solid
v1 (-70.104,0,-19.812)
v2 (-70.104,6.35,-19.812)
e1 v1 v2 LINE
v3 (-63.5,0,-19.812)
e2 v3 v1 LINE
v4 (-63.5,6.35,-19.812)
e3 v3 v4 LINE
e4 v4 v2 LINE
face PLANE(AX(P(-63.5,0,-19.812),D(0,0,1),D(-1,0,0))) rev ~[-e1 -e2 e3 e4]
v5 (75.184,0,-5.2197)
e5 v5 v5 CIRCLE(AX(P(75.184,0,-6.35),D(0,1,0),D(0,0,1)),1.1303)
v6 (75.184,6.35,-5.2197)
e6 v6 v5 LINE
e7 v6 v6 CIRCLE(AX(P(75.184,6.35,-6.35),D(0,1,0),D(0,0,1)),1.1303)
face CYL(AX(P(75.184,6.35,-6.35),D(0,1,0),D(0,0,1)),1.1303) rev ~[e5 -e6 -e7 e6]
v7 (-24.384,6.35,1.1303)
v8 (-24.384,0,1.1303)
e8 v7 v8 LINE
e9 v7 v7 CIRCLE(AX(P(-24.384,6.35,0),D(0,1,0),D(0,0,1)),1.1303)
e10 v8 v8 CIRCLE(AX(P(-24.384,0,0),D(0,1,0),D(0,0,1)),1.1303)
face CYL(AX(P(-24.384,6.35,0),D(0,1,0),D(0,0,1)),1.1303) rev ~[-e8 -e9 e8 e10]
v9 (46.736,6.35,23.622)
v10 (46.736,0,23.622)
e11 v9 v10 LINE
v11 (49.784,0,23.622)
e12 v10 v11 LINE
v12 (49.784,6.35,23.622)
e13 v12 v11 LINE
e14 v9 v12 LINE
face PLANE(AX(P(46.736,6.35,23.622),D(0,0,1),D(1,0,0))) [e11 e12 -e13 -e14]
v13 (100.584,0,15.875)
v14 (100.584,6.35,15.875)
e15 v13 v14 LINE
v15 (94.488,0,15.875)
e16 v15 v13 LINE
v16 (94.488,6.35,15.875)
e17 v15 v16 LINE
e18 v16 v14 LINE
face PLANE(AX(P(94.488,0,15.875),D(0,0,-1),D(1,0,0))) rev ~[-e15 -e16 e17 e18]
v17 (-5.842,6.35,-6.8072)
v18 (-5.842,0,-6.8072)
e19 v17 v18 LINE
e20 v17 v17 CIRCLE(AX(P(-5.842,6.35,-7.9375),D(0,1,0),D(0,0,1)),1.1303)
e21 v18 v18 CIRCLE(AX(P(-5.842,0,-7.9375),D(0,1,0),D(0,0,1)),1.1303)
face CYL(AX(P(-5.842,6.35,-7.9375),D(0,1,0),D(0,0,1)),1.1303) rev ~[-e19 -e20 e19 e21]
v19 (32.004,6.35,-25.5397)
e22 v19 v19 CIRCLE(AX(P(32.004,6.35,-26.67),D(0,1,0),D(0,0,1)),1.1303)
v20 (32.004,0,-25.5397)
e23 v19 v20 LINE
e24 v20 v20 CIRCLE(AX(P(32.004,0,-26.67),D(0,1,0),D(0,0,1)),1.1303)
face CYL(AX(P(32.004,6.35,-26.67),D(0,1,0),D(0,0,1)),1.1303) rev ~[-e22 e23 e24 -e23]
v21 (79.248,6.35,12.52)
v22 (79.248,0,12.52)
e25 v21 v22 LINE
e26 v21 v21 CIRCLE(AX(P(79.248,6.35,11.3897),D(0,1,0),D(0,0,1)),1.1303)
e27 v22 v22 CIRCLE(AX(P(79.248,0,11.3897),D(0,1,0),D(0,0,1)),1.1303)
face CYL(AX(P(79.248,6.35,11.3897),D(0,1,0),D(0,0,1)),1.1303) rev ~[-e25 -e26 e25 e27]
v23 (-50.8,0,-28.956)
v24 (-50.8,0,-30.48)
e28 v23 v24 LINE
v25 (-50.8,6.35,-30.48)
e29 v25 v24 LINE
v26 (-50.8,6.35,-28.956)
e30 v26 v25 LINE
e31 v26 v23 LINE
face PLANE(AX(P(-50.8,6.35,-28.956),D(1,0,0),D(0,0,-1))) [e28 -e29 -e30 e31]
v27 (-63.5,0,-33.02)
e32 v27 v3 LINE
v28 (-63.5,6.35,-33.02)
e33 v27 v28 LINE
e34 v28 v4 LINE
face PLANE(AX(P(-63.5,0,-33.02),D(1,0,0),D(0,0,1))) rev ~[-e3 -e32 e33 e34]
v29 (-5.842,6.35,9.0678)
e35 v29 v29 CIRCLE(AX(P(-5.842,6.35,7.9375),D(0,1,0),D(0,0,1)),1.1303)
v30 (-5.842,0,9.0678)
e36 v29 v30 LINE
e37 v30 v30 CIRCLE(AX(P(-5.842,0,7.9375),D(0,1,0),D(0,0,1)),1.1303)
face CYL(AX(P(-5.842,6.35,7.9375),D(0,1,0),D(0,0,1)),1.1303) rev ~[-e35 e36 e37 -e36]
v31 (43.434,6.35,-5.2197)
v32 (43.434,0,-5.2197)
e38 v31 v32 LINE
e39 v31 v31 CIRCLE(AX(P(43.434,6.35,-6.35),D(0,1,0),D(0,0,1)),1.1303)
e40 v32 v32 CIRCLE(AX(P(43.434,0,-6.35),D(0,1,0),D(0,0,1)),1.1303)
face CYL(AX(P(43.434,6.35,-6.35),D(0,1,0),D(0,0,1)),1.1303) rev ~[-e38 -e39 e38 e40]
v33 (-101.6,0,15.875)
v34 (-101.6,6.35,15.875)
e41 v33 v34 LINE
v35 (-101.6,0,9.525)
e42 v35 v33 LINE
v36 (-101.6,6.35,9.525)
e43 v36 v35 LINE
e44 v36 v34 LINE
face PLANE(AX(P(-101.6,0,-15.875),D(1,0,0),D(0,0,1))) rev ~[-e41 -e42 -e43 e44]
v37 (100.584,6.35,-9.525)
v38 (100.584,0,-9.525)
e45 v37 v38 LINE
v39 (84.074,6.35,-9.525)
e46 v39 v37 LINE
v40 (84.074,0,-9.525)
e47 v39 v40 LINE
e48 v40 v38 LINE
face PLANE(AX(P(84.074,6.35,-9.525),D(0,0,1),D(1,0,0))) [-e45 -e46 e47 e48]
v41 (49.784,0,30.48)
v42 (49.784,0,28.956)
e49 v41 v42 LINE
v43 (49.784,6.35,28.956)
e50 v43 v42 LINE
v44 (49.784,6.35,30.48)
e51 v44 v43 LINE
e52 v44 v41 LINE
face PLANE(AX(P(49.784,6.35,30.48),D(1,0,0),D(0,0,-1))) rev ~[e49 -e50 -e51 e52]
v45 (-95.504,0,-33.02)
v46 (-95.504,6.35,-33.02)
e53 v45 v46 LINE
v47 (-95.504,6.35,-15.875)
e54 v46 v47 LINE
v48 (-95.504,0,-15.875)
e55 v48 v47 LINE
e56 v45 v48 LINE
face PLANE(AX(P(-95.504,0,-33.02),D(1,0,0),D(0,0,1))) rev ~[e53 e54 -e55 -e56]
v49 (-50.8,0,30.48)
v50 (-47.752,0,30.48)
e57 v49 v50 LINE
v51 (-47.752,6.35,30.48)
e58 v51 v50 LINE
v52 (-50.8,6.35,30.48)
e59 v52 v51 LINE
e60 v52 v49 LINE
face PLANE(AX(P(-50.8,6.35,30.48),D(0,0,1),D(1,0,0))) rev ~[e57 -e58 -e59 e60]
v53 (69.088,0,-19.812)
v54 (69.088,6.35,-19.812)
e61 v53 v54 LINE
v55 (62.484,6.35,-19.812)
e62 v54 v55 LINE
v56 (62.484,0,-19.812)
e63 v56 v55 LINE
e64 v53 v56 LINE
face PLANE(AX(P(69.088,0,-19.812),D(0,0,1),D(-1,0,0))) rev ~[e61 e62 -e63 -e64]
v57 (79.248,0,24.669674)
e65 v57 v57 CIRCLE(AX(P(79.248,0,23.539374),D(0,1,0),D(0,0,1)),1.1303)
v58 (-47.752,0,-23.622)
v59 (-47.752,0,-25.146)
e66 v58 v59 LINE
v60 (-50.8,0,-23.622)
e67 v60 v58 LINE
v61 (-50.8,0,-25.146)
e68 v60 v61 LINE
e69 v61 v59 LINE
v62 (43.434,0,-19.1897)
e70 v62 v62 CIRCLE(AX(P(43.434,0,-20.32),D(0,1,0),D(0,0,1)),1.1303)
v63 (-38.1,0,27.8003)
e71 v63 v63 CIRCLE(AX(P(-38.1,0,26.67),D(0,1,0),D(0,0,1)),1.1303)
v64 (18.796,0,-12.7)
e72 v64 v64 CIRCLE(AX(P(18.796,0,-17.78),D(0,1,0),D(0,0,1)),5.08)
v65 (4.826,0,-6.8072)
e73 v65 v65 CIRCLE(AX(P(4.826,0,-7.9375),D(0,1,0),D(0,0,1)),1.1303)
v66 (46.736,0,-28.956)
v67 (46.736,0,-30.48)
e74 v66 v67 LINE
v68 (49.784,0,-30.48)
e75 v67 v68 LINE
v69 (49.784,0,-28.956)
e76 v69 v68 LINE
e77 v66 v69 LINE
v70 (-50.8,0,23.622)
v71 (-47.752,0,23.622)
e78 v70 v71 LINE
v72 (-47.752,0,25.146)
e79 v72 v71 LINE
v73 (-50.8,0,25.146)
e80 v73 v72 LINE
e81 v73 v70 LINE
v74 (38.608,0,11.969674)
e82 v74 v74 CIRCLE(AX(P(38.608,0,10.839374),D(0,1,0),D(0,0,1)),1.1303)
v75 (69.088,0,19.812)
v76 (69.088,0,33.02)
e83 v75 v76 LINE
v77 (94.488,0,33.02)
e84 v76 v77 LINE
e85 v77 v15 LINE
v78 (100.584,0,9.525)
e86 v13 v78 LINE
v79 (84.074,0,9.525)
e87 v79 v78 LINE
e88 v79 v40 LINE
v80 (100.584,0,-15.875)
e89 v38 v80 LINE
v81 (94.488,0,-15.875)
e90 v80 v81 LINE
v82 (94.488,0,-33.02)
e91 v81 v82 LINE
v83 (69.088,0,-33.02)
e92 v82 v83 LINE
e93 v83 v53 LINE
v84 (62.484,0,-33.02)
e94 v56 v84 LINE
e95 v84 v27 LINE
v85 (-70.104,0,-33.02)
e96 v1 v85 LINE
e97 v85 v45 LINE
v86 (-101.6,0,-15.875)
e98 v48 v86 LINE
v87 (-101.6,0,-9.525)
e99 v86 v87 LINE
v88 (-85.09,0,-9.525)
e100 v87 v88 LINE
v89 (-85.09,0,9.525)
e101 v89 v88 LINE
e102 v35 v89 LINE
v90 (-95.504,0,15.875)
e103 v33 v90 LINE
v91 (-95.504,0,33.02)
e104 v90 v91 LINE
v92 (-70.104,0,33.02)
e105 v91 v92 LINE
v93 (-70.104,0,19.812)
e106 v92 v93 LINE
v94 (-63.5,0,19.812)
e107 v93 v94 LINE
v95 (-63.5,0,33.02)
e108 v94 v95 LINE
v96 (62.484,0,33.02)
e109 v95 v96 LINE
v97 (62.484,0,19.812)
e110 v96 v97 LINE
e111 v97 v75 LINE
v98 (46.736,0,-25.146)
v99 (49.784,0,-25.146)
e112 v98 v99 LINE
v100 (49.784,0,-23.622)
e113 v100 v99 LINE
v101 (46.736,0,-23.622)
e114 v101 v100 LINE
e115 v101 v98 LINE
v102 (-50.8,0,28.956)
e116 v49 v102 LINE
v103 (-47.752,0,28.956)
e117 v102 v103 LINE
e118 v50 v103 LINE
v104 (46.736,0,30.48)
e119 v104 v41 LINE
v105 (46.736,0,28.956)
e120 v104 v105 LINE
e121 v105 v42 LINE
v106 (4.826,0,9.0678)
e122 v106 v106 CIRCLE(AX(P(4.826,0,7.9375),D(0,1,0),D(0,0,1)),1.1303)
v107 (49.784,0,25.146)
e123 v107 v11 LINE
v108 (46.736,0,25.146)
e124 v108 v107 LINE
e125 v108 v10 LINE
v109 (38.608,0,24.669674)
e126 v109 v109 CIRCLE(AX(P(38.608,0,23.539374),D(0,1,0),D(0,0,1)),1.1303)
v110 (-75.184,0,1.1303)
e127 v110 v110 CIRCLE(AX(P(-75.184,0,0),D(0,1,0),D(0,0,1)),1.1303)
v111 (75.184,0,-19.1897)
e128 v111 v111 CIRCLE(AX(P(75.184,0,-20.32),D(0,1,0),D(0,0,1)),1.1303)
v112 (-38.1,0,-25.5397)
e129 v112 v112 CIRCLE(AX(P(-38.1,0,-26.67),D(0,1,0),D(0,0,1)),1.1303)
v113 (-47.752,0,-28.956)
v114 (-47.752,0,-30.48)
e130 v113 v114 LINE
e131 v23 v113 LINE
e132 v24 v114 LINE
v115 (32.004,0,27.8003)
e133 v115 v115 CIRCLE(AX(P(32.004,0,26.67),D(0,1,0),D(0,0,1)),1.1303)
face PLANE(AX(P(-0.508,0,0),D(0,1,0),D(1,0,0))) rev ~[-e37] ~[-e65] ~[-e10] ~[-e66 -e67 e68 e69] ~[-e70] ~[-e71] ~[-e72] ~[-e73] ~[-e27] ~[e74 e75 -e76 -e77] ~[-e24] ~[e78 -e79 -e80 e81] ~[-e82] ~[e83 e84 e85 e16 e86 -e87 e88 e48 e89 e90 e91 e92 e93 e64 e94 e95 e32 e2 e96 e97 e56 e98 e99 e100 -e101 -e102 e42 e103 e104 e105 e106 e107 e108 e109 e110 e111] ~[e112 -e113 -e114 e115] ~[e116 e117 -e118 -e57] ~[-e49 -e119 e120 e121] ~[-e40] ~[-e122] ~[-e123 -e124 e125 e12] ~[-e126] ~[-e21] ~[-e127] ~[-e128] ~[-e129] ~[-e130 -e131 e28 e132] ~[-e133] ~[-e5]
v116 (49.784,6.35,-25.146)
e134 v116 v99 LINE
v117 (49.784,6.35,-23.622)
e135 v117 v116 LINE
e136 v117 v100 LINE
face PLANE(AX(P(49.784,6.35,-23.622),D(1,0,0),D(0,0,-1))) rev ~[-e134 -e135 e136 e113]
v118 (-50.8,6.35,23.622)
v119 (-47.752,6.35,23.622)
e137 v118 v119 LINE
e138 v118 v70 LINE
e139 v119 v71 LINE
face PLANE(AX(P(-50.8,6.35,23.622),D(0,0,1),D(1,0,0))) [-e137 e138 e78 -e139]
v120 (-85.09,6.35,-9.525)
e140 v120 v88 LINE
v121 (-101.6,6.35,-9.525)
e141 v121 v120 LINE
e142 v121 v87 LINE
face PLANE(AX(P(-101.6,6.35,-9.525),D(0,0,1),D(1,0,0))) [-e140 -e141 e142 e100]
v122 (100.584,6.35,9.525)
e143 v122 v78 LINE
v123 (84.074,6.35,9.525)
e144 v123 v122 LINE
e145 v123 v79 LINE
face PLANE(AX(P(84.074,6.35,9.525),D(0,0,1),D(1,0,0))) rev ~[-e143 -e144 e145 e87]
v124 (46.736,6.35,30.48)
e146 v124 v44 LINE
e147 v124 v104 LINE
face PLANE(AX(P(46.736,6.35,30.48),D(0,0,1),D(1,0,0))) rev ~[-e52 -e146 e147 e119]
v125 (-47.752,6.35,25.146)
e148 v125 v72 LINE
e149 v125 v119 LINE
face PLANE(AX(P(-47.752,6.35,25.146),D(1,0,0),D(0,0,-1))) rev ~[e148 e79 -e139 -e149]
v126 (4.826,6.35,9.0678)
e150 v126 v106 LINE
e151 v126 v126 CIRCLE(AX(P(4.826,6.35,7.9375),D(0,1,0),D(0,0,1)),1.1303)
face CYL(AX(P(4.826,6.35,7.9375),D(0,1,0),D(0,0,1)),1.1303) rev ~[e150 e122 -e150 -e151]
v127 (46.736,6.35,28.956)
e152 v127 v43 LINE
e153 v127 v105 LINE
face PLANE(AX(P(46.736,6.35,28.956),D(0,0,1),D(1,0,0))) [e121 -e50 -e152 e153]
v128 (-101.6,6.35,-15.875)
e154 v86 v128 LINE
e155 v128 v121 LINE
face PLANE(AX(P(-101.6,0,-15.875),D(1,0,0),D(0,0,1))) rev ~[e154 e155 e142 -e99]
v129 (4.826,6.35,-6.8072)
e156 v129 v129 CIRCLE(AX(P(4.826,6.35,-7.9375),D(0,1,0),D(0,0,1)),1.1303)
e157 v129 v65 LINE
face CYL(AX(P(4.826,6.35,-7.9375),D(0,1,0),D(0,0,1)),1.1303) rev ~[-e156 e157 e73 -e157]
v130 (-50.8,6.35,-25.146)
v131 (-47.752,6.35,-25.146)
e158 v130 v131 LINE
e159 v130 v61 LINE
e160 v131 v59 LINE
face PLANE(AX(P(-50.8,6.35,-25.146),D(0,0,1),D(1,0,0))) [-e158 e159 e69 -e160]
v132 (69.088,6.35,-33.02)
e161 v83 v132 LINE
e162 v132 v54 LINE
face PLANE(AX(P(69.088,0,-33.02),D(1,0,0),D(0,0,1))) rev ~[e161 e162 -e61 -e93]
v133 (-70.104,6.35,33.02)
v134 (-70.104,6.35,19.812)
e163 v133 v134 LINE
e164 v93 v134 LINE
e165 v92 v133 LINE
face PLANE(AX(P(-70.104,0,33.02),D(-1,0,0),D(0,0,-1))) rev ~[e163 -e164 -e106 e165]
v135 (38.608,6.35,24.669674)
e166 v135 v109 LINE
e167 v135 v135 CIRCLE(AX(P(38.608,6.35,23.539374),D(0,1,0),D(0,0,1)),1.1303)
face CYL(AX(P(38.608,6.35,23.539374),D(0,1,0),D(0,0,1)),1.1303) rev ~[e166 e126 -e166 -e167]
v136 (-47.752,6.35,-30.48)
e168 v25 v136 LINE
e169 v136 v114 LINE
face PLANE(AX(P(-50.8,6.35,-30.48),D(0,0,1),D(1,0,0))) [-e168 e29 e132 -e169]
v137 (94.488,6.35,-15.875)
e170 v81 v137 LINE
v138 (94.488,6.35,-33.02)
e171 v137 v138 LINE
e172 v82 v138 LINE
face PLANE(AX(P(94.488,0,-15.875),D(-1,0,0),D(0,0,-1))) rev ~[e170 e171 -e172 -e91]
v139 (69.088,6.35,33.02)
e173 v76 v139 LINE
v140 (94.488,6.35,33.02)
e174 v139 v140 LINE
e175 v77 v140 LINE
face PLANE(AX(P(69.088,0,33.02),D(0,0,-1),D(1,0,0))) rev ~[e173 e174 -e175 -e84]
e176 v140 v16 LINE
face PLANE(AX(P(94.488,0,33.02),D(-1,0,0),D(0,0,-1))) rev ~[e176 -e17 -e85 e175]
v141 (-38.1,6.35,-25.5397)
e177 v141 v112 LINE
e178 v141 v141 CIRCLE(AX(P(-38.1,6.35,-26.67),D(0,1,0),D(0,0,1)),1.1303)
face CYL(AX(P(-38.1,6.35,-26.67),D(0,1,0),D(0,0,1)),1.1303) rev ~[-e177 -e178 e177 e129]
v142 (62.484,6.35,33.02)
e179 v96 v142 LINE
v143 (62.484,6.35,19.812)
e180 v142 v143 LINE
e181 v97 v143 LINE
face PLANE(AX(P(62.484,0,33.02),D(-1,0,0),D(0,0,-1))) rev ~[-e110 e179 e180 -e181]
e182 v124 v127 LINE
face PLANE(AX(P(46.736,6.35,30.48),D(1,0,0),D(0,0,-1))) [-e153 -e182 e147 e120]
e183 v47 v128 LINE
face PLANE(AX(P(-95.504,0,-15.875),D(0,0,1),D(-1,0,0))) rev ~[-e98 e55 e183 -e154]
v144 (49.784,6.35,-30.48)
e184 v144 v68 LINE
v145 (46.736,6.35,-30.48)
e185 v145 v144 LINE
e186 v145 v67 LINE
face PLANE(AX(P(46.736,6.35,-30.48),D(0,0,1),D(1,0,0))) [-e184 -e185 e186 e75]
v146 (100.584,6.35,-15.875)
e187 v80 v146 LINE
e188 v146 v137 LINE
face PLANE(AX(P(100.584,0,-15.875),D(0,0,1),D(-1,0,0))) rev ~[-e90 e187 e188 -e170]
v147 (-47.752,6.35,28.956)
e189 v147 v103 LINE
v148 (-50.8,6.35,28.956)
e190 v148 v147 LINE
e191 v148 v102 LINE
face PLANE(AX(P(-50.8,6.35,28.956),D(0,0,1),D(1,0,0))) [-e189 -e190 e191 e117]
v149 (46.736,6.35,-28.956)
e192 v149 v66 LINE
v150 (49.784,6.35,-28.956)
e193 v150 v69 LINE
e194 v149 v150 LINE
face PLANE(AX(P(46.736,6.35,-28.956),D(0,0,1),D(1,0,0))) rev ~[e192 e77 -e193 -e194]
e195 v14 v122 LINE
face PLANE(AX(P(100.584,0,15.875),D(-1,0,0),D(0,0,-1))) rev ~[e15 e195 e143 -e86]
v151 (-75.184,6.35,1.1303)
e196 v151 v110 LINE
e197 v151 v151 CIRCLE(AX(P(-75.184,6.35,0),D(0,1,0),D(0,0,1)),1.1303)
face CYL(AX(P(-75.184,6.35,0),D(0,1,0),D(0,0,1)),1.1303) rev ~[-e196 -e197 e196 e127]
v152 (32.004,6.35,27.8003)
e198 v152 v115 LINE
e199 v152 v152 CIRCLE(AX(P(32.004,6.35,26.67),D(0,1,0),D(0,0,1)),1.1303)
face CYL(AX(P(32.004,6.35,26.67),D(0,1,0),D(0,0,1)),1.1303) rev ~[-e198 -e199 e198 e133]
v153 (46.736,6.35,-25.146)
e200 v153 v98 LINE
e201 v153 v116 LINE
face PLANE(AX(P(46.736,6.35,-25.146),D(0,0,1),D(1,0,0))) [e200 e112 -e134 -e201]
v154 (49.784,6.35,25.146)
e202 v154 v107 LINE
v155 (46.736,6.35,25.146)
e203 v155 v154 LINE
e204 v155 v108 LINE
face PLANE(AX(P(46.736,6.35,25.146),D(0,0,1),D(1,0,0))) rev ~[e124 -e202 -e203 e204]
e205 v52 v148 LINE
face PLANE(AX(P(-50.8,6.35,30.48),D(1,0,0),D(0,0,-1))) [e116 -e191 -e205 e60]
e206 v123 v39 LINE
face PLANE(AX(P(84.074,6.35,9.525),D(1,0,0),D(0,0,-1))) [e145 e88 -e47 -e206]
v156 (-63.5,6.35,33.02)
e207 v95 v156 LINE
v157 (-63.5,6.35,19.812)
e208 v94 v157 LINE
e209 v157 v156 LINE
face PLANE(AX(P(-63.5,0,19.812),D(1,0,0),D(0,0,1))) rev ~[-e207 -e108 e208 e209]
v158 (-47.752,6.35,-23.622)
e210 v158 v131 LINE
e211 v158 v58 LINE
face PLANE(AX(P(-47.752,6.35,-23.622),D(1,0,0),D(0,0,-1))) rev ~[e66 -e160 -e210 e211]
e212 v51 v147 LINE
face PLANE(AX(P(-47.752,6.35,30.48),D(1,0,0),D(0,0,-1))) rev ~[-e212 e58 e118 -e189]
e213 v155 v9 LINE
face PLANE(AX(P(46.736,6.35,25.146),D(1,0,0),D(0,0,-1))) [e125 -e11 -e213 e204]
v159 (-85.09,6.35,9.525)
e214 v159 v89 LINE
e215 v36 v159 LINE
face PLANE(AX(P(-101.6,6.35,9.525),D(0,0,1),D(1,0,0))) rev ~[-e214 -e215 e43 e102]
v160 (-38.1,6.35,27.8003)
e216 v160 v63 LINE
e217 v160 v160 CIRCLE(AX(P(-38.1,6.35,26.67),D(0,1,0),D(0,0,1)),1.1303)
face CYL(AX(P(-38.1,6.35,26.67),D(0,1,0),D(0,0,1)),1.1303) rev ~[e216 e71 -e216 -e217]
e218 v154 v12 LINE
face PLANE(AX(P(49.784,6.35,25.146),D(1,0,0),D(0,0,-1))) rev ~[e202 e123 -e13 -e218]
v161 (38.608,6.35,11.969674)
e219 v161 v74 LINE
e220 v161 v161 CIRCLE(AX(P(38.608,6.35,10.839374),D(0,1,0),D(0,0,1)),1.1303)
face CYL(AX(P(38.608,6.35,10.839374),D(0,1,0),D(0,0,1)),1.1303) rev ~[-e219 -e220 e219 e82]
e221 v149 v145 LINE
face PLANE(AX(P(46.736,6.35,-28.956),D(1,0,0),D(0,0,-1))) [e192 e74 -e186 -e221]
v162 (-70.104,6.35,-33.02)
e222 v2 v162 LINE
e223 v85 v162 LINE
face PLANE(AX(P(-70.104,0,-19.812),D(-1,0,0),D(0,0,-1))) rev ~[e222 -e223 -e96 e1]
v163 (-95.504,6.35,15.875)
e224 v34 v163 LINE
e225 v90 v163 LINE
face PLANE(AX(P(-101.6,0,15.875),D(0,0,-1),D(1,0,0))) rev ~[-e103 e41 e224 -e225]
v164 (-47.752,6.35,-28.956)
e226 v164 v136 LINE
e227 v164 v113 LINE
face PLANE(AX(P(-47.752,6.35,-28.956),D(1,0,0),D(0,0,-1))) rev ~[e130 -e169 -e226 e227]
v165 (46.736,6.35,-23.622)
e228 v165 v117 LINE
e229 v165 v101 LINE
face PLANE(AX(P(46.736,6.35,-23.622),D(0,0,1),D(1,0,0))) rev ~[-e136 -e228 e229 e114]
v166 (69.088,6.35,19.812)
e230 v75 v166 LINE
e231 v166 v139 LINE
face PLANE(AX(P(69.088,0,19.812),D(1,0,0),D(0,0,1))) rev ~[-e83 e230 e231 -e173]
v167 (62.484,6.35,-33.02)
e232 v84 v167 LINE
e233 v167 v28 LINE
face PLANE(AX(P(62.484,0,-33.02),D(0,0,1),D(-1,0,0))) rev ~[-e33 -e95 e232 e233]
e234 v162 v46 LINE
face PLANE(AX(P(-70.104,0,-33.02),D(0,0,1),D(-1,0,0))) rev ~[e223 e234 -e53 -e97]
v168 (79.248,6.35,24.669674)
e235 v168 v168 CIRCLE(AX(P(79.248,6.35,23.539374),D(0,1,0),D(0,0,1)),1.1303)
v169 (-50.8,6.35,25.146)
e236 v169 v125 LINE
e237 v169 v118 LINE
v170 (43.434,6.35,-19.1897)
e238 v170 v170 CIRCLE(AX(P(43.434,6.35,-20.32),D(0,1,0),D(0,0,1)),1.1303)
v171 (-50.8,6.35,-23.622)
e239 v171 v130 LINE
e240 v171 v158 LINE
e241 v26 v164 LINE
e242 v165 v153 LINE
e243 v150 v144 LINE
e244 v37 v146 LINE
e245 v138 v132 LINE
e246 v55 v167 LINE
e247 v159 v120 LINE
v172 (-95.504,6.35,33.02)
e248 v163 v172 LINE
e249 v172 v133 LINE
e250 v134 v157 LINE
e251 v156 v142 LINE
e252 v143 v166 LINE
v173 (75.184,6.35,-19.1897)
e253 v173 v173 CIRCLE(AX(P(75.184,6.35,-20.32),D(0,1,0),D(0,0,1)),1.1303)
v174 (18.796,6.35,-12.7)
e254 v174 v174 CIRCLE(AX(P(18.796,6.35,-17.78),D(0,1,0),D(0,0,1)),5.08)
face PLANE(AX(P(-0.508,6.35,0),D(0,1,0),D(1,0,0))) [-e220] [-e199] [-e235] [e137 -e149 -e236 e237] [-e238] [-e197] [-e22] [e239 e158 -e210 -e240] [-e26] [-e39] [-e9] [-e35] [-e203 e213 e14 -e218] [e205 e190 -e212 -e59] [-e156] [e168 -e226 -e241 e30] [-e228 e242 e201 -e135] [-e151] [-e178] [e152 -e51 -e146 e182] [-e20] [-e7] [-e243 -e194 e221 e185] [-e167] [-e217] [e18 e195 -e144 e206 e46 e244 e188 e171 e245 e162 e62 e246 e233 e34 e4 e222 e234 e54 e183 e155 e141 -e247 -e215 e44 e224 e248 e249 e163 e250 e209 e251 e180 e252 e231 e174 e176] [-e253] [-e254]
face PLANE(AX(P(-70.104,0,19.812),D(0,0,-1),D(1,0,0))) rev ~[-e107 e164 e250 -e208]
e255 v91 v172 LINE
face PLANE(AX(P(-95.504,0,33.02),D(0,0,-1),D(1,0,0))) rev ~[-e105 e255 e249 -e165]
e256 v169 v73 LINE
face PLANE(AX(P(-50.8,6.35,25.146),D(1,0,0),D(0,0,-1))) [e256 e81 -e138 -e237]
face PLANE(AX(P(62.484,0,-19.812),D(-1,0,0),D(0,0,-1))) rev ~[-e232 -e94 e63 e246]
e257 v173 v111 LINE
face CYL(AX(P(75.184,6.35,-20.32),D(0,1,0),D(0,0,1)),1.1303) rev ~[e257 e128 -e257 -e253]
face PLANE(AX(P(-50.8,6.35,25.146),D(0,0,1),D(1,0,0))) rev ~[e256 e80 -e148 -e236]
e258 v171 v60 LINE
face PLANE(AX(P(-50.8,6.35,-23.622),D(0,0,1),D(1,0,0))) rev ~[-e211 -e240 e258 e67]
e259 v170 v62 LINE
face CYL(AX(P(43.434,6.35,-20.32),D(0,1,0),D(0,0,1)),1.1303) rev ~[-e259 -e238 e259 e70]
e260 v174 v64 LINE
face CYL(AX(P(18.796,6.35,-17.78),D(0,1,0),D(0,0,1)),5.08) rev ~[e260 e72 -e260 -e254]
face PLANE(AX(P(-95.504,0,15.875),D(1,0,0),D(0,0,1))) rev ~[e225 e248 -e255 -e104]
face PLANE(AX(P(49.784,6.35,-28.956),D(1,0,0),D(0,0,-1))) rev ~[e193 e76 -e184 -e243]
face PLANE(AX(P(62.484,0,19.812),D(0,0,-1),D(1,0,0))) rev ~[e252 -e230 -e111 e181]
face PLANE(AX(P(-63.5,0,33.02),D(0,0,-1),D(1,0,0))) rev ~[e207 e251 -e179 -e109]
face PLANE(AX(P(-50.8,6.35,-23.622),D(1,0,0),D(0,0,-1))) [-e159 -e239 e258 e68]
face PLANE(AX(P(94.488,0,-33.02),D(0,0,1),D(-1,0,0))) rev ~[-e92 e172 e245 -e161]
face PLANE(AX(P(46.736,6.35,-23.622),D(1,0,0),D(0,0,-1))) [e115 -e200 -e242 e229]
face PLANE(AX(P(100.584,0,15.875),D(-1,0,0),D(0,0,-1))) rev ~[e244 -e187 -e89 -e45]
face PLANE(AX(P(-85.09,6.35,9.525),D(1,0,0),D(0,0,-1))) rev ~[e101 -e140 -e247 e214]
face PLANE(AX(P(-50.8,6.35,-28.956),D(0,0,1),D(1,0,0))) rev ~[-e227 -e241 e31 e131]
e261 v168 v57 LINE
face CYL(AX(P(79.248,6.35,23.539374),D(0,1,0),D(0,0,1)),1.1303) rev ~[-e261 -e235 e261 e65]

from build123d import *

# Parameters (mm, degrees)
BOSS_EXTRUDE1_DEPTH = 6.35
SKETCH2_R           = 1.1303
CUT_EXTRUDE1_DEPTH  = 10.16
SKETCH3_R           = 5.08
SKETCH3_W           = 3.048
SKETCH3_H           = 1.524
CUT_EXTRUDE2_DEPTH  = 10.16
SKETCH4_R           = 1.1303
CUT_EXTRUDE3_DEPTH  = 10.16
SKETCH5_W           = 16.51
SKETCH5_H           = 19.05
CUT_EXTRUDE4_DEPTH  = 10.16


with BuildPart() as part:
    # Sketch1 → Boss-Extrude1 (new body)
    with BuildSketch(Plane(origin=(0, 0, 0), x_dir=(1, 0, 0), z_dir=(0, 1, 0))):
        Polygon((-95.504, 15.875), (-101.6, 15.875), (-101.6, -15.875), (-95.504, -15.875), (-95.504, -33.02), (-70.104, -33.02), (-70.104, -19.812), (-63.5, -19.812), (-63.5, -33.02), (2.794, -33.02), (9.398, -33.02), (62.484, -33.02), (62.484, -19.812), (69.088, -19.812), (69.088, -33.02), (94.488, -33.02), (94.488, -15.875), (100.584, -15.875), (100.584, 15.875), (94.488, 15.875), (94.488, 33.02), (69.088, 33.02), (69.088, 19.812), (62.484, 19.812), (62.484, 33.02), (9.398, 33.02), (2.794, 33.02), (-63.5, 33.02), (-63.5, 19.812), (-70.104, 19.812), (-70.104, 33.02), (-95.504, 33.02), align=None)
    extrude(amount=BOSS_EXTRUDE1_DEPTH)

    # Sketch2 → Cut-Extrude1 (cut)
    with BuildSketch(Plane(origin=(0, 6.35, 0), x_dir=(1, 0, 0), z_dir=(0, 1, 0))):
        with Locations(Location((-5.842, 7.9375, 0), (0, 0, 270))):
            Circle(SKETCH2_R)
        with Locations(Location((4.826, 7.9375, 0), (0, 0, 270))):
            Circle(SKETCH2_R)
        with Locations(Location((4.826, -7.9375, 0), (0, 0, 270))):
            Circle(SKETCH2_R)
        with Locations(Location((-5.842, -7.9375, 0), (0, 0, 270))):
            Circle(SKETCH2_R)
        with Locations(Location((-75.184, 0, 0), (0, 0, 270))):
            Circle(SKETCH2_R)
        with Locations(Location((-24.384, 0, 0), (0, 0, 270))):
            Circle(SKETCH2_R)
        with Locations(Location((43.434, 20.32, 0), (0, 0, 270))):
            Circle(SKETCH2_R)
        with Locations(Location((75.184, 20.32, 0), (0, 0, 270))):
            Circle(SKETCH2_R)
        with Locations(Location((75.184, 6.35, 0), (0, 0, 270))):
            Circle(SKETCH2_R)
        with Locations(Location((43.434, 6.35, 0), (0, 0, 270))):
            Circle(SKETCH2_R)
        with Locations(Location((38.608, -10.839373847, 0), (0, 0, 270))):
            Circle(SKETCH2_R)
        with Locations(Location((79.248, -11.389700319, 0), (0, 0, 270))):
            Circle(SKETCH2_R)
        with Locations(Location((38.608, -23.539373847, 0), (0, 0, 270))):
            Circle(SKETCH2_R)
        with Locations(Location((79.248, -23.539373847, 0), (0, 0, 270))):
            Circle(SKETCH2_R)
    extrude(amount=-CUT_EXTRUDE1_DEPTH, mode=Mode.SUBTRACT)

    # Sketch3 → Cut-Extrude2 (cut)
    with BuildSketch(Plane(origin=(0, 6.35, 0), x_dir=(1, 0, 0), z_dir=(0, 1, 0))):
        with Locations(Location((18.796, 17.78, 0), (0, 0, 270))):
            Circle(SKETCH3_R)
        with Locations((-49.276, 29.718)):
            Rectangle(SKETCH3_W, SKETCH3_H)
        with Locations((-49.276, 24.384)):
            Rectangle(SKETCH3_W, SKETCH3_H)
        with Locations((48.26, 29.718)):
            Rectangle(SKETCH3_W, SKETCH3_H)
        with Locations((48.26, 24.384)):
            Rectangle(SKETCH3_W, SKETCH3_H)
        with Locations((-49.276, -24.384)):
            Rectangle(SKETCH3_W, SKETCH3_H)
        with Locations((-49.276, -29.718)):
            Rectangle(SKETCH3_W, SKETCH3_H)
        with Locations((48.26, -24.384)):
            Rectangle(SKETCH3_W, SKETCH3_H)
        with Locations((48.26, -29.718)):
            Rectangle(SKETCH3_W, SKETCH3_H)
    extrude(amount=-CUT_EXTRUDE2_DEPTH, mode=Mode.SUBTRACT)

    # Sketch4 → Cut-Extrude3 (cut)
    with BuildSketch(Plane(origin=(0, 6.35, 0), x_dir=(1, 0, 0), z_dir=(0, 1, 0))):
        with Locations(Location((-38.1, 26.67, 0), (0, 0, 270))):
            Circle(SKETCH4_R)
        with Locations(Location((32.004, 26.67, 0), (0, 0, 270))):
            Circle(SKETCH4_R)
        with Locations(Location((-38.1, -26.67, 0), (0, 0, 270))):
            Circle(SKETCH4_R)
        with Locations(Location((32.004, -26.67, 0), (0, 0, 270))):
            Circle(SKETCH4_R)
    extrude(amount=-CUT_EXTRUDE3_DEPTH, mode=Mode.SUBTRACT)

    # Sketch5 → Cut-Extrude4 (cut)
    with BuildSketch(Plane(origin=(0, 6.35, 0), x_dir=(1, 0, 0), z_dir=(0, 1, 0))):
        with Locations((-93.345, 0)):
            Rectangle(SKETCH5_W, SKETCH5_H)
        with Locations((92.329, 0)):
            Rectangle(SKETCH5_W, SKETCH5_H)
    extrude(amount=-CUT_EXTRUDE4_DEPTH, mode=Mode.SUBTRACT)


solid = part.part
